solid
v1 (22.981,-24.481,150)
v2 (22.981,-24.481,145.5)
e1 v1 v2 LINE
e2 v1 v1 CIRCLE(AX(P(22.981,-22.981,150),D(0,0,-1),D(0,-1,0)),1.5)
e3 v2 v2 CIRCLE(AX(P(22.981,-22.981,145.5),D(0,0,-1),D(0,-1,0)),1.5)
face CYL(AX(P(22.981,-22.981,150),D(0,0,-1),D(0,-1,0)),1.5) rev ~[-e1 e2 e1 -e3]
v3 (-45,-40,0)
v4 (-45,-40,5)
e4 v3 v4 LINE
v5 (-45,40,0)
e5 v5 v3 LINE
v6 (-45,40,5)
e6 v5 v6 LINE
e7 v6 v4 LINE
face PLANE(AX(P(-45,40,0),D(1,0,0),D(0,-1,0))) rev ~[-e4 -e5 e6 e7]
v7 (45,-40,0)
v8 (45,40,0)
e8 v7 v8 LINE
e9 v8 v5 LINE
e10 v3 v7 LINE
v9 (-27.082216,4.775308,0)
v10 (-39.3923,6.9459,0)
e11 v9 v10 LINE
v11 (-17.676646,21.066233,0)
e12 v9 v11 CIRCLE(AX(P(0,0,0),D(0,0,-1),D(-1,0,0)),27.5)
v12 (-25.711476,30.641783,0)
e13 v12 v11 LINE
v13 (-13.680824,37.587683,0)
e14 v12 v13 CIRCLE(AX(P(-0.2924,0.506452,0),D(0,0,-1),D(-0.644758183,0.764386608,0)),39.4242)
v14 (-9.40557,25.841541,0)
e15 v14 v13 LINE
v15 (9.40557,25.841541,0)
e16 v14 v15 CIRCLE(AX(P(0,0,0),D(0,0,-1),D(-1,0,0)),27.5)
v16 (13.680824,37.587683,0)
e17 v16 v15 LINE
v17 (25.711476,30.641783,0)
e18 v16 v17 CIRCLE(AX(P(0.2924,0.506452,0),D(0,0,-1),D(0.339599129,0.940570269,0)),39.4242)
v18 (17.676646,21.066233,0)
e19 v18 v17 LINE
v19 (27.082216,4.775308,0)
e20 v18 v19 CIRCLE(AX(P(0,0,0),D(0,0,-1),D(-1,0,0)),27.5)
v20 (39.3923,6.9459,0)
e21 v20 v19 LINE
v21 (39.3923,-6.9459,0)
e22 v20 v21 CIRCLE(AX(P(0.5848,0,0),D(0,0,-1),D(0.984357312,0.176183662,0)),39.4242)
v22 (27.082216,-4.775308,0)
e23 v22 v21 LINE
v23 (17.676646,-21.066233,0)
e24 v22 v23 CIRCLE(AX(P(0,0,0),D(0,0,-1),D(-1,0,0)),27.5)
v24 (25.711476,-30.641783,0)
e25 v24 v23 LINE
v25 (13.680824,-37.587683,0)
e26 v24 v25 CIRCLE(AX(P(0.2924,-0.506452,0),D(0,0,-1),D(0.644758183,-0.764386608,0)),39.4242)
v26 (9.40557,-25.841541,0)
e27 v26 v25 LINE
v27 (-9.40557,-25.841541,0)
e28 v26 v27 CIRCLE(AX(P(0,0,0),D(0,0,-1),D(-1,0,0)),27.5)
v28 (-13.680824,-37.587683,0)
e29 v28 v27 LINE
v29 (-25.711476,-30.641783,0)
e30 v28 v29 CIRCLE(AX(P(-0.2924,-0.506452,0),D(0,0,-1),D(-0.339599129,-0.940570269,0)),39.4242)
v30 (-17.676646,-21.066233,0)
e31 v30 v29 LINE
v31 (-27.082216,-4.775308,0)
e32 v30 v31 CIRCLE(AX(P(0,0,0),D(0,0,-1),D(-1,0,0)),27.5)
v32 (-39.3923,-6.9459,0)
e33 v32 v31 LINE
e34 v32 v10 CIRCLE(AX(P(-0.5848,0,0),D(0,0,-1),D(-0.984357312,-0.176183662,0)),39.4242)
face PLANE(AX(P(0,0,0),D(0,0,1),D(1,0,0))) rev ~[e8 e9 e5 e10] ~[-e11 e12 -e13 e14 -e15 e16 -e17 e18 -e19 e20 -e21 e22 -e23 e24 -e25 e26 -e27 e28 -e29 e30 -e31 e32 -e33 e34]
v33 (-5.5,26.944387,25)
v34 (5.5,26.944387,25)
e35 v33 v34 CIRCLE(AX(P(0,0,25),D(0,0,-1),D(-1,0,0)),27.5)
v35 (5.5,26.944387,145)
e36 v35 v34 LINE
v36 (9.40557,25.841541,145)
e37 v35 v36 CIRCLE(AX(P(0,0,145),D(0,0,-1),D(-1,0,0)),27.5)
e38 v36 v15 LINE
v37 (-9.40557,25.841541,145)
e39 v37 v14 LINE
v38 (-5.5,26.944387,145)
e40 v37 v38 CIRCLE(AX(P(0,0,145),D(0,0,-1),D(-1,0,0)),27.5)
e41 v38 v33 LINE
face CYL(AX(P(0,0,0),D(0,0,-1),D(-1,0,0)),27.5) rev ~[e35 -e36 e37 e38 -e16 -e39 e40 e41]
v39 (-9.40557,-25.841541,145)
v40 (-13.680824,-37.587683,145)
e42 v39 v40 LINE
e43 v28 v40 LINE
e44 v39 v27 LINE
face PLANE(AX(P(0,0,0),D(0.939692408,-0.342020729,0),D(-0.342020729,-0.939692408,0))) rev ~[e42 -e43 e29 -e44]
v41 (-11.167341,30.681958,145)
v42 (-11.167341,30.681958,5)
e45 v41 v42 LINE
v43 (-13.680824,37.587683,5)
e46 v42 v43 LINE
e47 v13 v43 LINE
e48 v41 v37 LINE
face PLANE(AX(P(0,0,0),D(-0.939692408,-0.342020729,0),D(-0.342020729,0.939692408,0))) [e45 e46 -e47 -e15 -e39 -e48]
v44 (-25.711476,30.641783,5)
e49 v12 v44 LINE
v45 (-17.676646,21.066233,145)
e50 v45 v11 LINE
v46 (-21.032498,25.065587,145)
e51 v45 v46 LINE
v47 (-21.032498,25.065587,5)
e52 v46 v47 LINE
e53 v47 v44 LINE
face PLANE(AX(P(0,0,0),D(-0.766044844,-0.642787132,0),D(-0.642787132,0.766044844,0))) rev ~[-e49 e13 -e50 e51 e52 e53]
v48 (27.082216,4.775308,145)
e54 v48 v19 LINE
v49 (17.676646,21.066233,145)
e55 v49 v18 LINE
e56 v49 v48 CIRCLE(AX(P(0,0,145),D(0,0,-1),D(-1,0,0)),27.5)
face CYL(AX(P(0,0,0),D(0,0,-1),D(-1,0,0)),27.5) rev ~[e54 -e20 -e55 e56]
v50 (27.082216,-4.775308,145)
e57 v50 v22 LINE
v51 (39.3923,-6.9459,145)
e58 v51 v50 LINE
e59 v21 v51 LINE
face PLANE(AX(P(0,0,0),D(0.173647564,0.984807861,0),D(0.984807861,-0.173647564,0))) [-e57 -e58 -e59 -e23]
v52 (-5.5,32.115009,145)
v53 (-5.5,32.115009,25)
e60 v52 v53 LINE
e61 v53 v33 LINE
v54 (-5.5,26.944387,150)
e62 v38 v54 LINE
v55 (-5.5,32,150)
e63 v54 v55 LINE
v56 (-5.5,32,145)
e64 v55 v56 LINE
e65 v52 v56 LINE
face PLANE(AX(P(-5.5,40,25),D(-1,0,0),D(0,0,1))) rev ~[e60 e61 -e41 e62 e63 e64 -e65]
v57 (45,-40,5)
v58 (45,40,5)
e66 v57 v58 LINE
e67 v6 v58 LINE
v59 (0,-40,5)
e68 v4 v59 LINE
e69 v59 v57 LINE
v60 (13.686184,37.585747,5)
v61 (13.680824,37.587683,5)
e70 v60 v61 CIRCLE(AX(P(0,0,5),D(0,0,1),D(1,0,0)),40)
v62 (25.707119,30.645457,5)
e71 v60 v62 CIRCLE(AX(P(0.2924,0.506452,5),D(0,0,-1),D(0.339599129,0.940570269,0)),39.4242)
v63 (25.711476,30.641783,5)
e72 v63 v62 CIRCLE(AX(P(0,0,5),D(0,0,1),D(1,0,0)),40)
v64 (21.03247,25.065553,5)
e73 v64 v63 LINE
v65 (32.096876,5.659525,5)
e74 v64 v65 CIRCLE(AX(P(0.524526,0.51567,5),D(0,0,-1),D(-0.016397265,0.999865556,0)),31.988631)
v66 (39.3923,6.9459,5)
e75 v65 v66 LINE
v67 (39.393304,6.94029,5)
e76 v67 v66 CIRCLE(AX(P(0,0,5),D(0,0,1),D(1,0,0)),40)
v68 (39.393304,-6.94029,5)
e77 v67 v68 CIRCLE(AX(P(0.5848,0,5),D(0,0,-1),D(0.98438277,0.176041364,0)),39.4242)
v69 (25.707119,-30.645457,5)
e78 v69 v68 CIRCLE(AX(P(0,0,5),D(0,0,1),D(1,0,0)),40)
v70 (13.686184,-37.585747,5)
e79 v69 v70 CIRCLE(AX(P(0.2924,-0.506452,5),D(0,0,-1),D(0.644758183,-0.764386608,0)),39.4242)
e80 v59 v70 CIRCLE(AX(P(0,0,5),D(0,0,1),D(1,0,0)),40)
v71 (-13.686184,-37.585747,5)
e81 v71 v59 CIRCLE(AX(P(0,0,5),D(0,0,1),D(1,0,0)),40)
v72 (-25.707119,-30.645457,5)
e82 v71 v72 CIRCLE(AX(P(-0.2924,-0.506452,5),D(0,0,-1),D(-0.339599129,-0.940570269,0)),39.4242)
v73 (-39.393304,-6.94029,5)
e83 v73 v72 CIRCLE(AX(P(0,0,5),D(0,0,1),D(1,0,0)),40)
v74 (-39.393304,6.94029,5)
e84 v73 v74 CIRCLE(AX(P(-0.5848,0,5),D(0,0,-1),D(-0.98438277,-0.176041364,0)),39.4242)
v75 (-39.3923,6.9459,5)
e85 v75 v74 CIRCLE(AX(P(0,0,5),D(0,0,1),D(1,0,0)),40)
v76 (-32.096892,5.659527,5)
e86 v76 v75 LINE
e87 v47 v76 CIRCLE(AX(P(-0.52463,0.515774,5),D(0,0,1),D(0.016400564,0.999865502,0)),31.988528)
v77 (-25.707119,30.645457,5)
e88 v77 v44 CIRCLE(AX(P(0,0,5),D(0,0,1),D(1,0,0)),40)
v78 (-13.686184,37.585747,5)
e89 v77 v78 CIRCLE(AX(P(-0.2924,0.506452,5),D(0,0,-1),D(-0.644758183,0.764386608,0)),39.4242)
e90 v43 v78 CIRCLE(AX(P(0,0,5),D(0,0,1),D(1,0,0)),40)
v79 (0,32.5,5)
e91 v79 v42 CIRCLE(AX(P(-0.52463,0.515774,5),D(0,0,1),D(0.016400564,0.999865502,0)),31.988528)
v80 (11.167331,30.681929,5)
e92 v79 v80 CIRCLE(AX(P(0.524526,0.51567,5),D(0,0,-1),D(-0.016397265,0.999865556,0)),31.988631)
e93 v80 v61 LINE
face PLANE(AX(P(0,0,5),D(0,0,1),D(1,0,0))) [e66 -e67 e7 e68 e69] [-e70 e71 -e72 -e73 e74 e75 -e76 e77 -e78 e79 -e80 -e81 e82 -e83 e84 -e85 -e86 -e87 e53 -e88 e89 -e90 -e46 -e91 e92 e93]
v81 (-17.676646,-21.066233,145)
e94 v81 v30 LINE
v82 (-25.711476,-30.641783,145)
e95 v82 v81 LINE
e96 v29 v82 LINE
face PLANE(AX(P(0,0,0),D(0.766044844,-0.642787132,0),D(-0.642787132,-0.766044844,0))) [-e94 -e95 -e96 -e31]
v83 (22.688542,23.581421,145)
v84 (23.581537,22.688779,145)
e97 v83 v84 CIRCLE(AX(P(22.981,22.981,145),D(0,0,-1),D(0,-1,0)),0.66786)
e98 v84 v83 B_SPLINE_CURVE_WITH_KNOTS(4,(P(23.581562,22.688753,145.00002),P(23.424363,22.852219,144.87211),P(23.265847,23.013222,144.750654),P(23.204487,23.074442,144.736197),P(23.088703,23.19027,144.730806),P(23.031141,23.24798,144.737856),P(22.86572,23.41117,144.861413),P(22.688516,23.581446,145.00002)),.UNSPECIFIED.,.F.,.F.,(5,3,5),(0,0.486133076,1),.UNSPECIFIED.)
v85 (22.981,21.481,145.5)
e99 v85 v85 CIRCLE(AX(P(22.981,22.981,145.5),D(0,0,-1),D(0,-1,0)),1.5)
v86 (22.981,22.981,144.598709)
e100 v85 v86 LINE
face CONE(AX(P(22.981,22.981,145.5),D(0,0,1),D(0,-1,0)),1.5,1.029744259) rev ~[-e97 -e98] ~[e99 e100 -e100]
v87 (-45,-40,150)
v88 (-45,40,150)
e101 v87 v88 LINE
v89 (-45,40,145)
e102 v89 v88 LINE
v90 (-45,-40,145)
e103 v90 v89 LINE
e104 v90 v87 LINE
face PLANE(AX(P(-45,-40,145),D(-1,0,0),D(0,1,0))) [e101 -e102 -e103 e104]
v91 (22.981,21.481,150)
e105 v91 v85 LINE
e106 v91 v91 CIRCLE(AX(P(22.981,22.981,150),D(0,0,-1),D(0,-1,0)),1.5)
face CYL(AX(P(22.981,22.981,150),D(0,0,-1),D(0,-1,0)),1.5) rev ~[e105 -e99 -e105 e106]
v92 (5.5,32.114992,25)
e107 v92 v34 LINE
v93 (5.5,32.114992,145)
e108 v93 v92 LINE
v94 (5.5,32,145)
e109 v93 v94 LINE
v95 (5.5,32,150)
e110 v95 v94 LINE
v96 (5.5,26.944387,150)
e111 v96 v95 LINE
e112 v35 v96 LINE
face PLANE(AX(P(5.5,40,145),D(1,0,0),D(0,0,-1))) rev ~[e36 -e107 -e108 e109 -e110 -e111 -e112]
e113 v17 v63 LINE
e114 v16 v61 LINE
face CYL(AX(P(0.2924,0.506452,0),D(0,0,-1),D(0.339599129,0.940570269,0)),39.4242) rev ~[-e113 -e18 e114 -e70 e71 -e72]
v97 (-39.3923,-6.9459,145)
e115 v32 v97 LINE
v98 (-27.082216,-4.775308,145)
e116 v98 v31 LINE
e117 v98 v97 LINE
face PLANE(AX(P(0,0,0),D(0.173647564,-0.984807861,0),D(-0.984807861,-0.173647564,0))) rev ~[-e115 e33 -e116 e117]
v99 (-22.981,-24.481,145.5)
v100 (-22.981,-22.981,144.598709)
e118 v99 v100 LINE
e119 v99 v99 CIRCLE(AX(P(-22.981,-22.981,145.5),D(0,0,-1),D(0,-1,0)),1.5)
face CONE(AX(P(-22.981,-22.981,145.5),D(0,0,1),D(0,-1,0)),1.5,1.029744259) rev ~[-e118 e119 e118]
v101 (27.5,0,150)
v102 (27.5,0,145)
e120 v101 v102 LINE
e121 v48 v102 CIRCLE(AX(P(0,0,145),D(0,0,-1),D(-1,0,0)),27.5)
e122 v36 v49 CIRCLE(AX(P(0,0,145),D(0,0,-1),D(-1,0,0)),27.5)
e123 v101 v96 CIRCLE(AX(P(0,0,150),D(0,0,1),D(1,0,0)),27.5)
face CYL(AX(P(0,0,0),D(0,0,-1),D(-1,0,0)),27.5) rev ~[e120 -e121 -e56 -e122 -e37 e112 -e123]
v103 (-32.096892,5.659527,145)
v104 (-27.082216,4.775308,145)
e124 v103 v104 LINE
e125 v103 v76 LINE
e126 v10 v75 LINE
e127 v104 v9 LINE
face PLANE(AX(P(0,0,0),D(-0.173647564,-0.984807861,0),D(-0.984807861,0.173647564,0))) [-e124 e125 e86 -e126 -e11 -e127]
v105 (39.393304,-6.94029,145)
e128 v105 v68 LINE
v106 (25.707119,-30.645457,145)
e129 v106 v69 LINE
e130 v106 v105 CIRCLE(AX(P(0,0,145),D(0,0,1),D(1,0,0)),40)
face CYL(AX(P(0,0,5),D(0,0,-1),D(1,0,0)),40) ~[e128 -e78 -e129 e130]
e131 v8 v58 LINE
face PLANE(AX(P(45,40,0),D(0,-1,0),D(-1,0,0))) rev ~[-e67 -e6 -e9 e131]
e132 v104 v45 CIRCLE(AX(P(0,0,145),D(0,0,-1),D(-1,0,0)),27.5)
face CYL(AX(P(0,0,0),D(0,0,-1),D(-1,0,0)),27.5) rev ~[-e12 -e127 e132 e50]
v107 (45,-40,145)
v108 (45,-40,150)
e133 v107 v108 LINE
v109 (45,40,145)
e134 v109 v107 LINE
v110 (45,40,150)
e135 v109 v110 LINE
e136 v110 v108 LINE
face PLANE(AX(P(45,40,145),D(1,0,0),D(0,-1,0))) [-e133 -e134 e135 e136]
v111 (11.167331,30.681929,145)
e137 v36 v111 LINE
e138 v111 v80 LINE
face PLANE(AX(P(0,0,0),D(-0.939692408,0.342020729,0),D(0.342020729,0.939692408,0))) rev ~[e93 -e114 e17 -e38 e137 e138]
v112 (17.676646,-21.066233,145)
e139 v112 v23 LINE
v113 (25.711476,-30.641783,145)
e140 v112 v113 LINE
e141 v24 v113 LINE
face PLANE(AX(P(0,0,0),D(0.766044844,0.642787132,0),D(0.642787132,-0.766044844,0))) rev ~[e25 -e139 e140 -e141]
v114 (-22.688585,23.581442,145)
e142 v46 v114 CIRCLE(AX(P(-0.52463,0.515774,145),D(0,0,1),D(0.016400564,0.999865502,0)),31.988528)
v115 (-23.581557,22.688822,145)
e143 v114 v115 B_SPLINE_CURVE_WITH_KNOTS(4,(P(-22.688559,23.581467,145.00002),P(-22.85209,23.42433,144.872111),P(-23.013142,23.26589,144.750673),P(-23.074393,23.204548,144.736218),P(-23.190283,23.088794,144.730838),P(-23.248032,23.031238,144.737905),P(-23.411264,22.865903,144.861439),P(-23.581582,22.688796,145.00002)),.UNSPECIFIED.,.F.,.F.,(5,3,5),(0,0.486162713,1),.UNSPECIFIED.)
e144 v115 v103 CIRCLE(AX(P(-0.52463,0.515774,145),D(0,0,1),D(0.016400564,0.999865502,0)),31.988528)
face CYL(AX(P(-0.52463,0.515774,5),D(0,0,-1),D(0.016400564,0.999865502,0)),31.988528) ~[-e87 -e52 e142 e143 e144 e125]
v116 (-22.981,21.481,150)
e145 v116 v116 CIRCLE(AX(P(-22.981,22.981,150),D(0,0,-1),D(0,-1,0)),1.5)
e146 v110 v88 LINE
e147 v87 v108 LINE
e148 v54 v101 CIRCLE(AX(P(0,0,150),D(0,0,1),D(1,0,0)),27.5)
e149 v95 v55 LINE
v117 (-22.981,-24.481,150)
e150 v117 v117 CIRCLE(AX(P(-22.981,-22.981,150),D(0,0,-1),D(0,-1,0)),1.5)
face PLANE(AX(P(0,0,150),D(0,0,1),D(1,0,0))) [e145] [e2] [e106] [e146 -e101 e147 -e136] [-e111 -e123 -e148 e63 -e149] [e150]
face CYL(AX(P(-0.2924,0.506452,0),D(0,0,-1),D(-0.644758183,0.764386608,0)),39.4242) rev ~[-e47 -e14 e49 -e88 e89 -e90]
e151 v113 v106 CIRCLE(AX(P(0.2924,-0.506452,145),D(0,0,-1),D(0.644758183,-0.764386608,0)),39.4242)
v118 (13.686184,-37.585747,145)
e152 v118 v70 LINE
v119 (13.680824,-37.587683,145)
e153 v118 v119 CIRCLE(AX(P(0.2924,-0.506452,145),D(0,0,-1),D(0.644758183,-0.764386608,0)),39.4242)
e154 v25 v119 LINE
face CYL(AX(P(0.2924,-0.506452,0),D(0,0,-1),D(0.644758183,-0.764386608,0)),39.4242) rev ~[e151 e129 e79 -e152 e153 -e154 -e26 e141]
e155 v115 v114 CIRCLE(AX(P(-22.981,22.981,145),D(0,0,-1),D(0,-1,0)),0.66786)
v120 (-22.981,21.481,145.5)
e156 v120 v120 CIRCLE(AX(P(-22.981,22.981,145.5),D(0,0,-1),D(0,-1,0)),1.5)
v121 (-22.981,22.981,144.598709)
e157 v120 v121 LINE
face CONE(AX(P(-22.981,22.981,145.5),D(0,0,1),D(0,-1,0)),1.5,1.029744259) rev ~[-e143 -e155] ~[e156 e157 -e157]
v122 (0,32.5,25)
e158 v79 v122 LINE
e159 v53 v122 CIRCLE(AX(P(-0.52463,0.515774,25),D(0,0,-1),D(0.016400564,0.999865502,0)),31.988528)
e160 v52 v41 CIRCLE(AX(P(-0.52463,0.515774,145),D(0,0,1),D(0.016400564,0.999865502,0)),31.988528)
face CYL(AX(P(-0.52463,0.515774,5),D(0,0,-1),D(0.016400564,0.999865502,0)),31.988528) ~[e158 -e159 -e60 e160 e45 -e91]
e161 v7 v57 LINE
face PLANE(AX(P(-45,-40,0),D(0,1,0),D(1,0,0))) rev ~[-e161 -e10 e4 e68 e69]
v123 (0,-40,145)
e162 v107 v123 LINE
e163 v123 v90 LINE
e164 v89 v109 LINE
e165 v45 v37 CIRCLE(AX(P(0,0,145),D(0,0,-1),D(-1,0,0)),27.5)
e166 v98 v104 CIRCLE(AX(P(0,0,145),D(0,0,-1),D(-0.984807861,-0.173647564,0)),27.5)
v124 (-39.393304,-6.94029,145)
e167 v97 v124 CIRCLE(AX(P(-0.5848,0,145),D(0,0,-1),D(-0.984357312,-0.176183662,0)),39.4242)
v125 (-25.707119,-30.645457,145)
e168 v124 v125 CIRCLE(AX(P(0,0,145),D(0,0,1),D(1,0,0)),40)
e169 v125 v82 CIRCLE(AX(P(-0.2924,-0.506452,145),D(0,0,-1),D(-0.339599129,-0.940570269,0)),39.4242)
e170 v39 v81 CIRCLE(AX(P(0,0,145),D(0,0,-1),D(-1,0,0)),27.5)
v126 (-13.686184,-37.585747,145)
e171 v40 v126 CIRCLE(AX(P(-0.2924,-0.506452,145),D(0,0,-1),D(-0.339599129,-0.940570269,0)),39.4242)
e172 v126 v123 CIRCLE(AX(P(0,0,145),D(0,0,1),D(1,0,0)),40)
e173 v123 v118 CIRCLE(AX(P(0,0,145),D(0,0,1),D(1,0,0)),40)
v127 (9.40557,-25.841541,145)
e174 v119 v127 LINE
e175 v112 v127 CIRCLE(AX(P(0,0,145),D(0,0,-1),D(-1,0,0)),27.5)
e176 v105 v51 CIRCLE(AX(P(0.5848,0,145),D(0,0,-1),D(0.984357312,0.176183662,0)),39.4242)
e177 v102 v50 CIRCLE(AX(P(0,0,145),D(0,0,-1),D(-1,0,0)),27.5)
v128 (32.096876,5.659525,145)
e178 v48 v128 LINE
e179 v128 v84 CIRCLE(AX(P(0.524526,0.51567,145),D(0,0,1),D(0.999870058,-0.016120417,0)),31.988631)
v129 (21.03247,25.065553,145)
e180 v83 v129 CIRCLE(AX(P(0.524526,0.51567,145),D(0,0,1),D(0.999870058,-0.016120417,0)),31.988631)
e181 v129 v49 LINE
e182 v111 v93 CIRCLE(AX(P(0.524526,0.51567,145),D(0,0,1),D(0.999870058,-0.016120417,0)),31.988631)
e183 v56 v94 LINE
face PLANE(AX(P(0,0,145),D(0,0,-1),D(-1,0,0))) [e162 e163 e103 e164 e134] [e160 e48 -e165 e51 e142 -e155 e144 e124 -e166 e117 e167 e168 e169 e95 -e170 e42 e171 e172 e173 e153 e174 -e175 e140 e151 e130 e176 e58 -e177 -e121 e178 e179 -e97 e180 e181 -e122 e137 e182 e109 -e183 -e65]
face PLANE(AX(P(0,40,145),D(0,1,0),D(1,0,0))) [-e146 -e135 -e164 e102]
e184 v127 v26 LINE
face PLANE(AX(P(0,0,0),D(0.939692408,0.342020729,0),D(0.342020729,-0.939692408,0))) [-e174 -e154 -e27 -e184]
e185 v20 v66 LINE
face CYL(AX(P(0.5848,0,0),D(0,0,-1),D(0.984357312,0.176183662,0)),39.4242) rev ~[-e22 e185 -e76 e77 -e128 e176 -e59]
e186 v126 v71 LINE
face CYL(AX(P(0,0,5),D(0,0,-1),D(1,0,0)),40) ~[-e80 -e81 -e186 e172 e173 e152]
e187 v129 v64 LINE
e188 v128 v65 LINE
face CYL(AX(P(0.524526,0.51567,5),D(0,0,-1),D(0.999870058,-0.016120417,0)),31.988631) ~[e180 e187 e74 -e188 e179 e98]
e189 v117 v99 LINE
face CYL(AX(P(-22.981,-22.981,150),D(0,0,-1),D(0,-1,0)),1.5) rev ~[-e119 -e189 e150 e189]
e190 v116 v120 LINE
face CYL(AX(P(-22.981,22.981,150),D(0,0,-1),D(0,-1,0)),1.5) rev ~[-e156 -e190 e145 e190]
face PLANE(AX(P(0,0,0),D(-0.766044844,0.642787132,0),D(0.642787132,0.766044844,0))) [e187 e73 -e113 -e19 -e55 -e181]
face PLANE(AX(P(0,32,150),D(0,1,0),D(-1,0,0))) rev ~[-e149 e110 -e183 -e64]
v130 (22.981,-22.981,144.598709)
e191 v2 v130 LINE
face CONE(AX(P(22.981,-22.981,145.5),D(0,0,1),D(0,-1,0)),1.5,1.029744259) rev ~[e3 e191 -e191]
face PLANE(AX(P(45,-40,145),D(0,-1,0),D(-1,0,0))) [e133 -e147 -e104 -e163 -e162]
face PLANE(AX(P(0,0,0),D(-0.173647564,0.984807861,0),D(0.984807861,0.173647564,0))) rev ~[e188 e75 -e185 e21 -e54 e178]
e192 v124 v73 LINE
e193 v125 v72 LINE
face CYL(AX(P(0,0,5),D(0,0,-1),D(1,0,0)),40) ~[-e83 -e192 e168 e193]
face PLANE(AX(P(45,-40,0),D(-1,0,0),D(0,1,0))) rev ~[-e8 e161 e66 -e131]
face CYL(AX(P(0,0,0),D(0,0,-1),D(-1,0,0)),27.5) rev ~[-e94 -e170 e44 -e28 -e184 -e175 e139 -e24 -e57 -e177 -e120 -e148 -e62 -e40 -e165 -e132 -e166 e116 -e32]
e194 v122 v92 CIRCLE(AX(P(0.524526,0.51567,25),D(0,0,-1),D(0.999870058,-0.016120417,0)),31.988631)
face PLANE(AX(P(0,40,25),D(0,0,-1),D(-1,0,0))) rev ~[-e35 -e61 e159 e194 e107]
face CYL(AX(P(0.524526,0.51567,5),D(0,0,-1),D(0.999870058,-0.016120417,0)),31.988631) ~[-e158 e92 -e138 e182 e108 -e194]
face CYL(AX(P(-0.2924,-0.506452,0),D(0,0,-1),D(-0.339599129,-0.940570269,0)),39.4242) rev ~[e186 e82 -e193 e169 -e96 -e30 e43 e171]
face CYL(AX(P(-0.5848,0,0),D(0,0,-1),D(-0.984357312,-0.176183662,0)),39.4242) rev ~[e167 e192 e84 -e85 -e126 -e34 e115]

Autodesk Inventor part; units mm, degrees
ref_plane "YZ Plane" through (0, 0, 0) normal (1, 0, 0) x (0, 1, 0)
ref_plane "XZ Plane" through (0, 0, 0) normal (0, 1, 0) x (-1, 0, 0)
ref_plane "XY Plane" through (0, 0, 0) normal (0, 0, 1) x (1, 0, 0)
sketch "スケッチ1" plane through (0, 0, 0) normal (0, 0, 1) x (1, 0, 0)
  line L0 (-45, -40) -> (45, -40)
  line L1 (45, -40) -> (45, 40)
  line L2 (45, 40) -> (-45, 40)
  line L3 (-45, 40) -> (-45, -40)
  line L4 (-45, -40) -> (45, 40) construction
  line L5 (45, -40) -> (-45, 40) construction
  point P0 (0, 0)
  dimension "d0" = 90
  dimension "d1" = 80
extrude "押し出し1" add sketch "スケッチ1" along normal blind 5
sketch "スケッチ2" plane through (0, 0, 5) normal (0, 0, 1) x (1, 0, 0)
  circle A0 centre (0, 0) radius 40
  dimension "d4" = 80
extrude "押し出し2" add sketch "スケッチ2" along normal blind 140
sketch "スケッチ3" plane through (0, 0, 0) normal (0, 0, -1) x (-1, 0, 0)
  circle A0 centre (0, 0) radius 27.5
  dimension "d8" = 55
extrude "押し出し3" cut sketch "スケッチ3" against normal blind 145
sketch "スケッチ4" plane through (0, 0, 145) normal (0, 0, 1) x (1, 0, 0)
  circle A0 centre (0, 0) radius 40 projected
  line L0 (-45, 40) -> (45, 40)
  line L1 (45, 40) -> (45, -40)
  line L2 (45, -40) -> (-45, -40)
  line L3 (-45, -40) -> (-45, 40)
  line L4 (-45, 40) -> (45, -40) construction
  line L5 (45, 40) -> (-45, -40) construction
  circle A1 centre (0, 0) radius 20
  dimension "d11" = 90
  dimension "d12" = 80
  dimension "d26" = 40
extrude "押し出し4" add sketch "スケッチ4" along normal blind 5
sketch "スケッチ5" plane through (-45, 40, 145) normal (0, 1, 0) x (1, 0, 0)
  line L0 (0, 0) -> (45, 0) projected
  line L1 (90, -5) -> (0, -5) projected
  line L2 (45, 145) -> (45, -5)
  line L3 (39.5, 0) -> (50.5, 0)
  line L4 (50.5, 0) -> (50.5, 120)
  line L5 (50.5, 120) -> (39.5, 120)
  line L6 (39.5, 120) -> (39.5, 0)
  dimension "d15" = 11
  dimension "d16" = 120
  dimension "d17" = 5.5
extrude "押し出し5" cut sketch "スケッチ5" against normal blind 15
sketch "スケッチ7" plane through (0, 0, 150) normal (0, 0, 1) x (1, 0, 0)
  circle A0 centre (0, 0) radius 20 projected
  line L0 (45, 40) -> (-45, 40) projected
  line L1 (-5.5, 22) -> (5.5, 22)
  line L2 (5.5, 22) -> (5.5, 32)
  line L3 (5.5, 32) -> (-5.5, 32)
  line L4 (-5.5, 32) -> (-5.5, 22)
  line L5 (0, 40) -> (0, 0)
  circle A1 centre (0, 0) radius 27.5
  dimension "d29" = 11
  dimension "d30" = 10
  dimension "d31" = 5.5
  dimension "d32" = 8
  dimension "d57" = 55
extrude "押し出し8" cut sketch "スケッチ7" against normal blind 5 contours L1 L4 A1 L5 | L5 A1 L2 L1 | A1 L4 L3 L5 | L5 L3 L2 A1
sketch "スケッチ10" plane through (0, 0, 150) normal (0, 0, 1) x (1, 0, 0)
  circle A0 centre (0, 0) radius 20 projected
  circle A1 centre (0, 0) radius 27.5
  point P0 (-5.5, 19.2289)
  point P1 (5.5, 19.2289)
  dimension "d58" = 55
extrude "押し出し9" cut sketch "スケッチ10" against normal blind 5 contours A0 | A1
sketch "スケッチ11" plane through (0, 0, 150) normal (0, 0, 1) x (1, 0, 0)
  arc A0 (-5.5, 26.9444) -> (5.5, 26.9444) centre (0, 0) ccw projected
  circle A1 centre (0, 0) radius 32.5
  line L0 (0, 0) -> (22.981, 22.981)
  line L1 (0, 0) -> (32.5, 0) construction
  circle A2 centre (22.981, 22.981) radius 1.5
  circle A3 centre (-22.981, 22.981) radius 1.5
  circle A4 centre (-22.981, -22.981) radius 1.5
  circle A5 centre (22.981, -22.981) radius 1.5
  dimension "d61" = 65
  dimension "d62" = 45
  dimension "d63" = 3
  dimension "d66" = 360
hole "穴2" at (22.981, 22.981, 150) at (-22.981, 22.981, 150) at (-22.981, -22.981, 150) at (22.981, -22.981, 150) direction (0, 0, -1) diameter 3 depth 4.5 tip angle 118
sketch "スケッチ16" plane through (0, 0, 0) normal (0, 0, -1) x (-1, 0, 0)
  circle A0 centre (0, 0) radius 27.5 projected
  line L0 (-45, -40) -> (-45, 40) projected
  line L1 (0, 0) -> (40, 0)
  line L2 (0, 0) -> (39.3923, -6.9459)
  line L3 (0, 0) -> (40, 0) construction
  line L4 (0, 0) -> (39.3923, 6.9459)
  line L5 (0, 0) -> (25.7115, 30.6418)
  line L6 (0, 0) -> (13.6808, 37.5877)
  line L7 (0, 0) -> (-13.6808, 37.5877)
  line L8 (0, 0) -> (-25.7115, 30.6418)
  line L9 (0, 0) -> (-39.3923, 6.9459)
  line L10 (0, 0) -> (-39.3923, -6.9459)
  line L11 (0, 0) -> (-25.7115, -30.6418)
  line L12 (0, 0) -> (-13.6808, -37.5877)
  line L13 (0, 0) -> (13.6808, -37.5877)
  line L14 (0, 0) -> (25.7115, -30.6418)
  arc A1 (-39.3923, 6.9459) -> (-39.3923, -6.9459) centre (-0.5848, 0) ccw
  arc A2 (-25.7115, -30.6418) -> (-13.6808, -37.5877) centre (-0.2924, -0.5065) ccw
  arc A3 (13.6808, -37.5877) -> (25.7115, -30.6418) centre (0.2924, -0.5065) ccw
  arc A4 (39.3923, -6.9459) -> (39.3923, 6.9459) centre (0.5848, 0) ccw
  arc A5 (25.7115, 30.6418) -> (13.6808, 37.5877) centre (0.2924, 0.5065) ccw
  arc A6 (-13.6808, 37.5877) -> (-25.7115, 30.6418) centre (-0.2924, 0.5065) ccw
  dimension "d80" = 40
  dimension "d81" = 40
  dimension "d82" = 10
  dimension "d85" = 360
  dimension "d89" = 360
extrude "押し出し12" cut sketch "スケッチ16" against normal blind 145 contours L10 A0 L9 | A0 L10 A1 L9
pattern_circular "円形状パターン1" count 6 over 360 about axis through (0, 0, 0) along (0, 0, 1) of "押し出し12"
sketch "スケッチ18" plane through (0, 0, 5) normal (0, 0, 1) x (1, 0, 0)
  line L0 (45, 40) -> (0, 40) projected
  arc A0 (39.3923, -6.9459) -> (39.3923, 6.9459) centre (0.5848, 0) ccw projected
  arc A1 (40.009, 0) -> (0, 40) centre (0.163, 0.154) ccw
  line L1 (0, 40) -> (0, 32.5)
  line L2 (40.009, 0) -> (32.509, 0)
  line L3 (0.163, 0.154) -> (28.4473, 28.4383)
  line L4 (0.163, 0.154) -> (40.163, 0.154) construction
  line L5 (0.163, 0.154) -> (23.144, 23.135)
  arc A2 (32.509, 0) -> (0, 32.5) centre (0.5246, 0.5157) ccw
  arc A3 (0, 40) -> (-40.009, 0) centre (-0.163, 0.154) ccw
  line L6 (-40.009, 0) -> (-32.509, 0)
  arc A4 (0, 32.5) -> (-32.509, 0) centre (-0.5246, 0.5157) ccw
  dimension "d97" = 7.5
  dimension "d98" = 7.5
  dimension "d99" = 40
  dimension "d100" = 45
  dimension "d101" = 32.5
extrude "押し出し13" cut sketch "スケッチ18" along normal blind 140
properties part number "知能ロボコン外筒" material "ABS プラスチック"
